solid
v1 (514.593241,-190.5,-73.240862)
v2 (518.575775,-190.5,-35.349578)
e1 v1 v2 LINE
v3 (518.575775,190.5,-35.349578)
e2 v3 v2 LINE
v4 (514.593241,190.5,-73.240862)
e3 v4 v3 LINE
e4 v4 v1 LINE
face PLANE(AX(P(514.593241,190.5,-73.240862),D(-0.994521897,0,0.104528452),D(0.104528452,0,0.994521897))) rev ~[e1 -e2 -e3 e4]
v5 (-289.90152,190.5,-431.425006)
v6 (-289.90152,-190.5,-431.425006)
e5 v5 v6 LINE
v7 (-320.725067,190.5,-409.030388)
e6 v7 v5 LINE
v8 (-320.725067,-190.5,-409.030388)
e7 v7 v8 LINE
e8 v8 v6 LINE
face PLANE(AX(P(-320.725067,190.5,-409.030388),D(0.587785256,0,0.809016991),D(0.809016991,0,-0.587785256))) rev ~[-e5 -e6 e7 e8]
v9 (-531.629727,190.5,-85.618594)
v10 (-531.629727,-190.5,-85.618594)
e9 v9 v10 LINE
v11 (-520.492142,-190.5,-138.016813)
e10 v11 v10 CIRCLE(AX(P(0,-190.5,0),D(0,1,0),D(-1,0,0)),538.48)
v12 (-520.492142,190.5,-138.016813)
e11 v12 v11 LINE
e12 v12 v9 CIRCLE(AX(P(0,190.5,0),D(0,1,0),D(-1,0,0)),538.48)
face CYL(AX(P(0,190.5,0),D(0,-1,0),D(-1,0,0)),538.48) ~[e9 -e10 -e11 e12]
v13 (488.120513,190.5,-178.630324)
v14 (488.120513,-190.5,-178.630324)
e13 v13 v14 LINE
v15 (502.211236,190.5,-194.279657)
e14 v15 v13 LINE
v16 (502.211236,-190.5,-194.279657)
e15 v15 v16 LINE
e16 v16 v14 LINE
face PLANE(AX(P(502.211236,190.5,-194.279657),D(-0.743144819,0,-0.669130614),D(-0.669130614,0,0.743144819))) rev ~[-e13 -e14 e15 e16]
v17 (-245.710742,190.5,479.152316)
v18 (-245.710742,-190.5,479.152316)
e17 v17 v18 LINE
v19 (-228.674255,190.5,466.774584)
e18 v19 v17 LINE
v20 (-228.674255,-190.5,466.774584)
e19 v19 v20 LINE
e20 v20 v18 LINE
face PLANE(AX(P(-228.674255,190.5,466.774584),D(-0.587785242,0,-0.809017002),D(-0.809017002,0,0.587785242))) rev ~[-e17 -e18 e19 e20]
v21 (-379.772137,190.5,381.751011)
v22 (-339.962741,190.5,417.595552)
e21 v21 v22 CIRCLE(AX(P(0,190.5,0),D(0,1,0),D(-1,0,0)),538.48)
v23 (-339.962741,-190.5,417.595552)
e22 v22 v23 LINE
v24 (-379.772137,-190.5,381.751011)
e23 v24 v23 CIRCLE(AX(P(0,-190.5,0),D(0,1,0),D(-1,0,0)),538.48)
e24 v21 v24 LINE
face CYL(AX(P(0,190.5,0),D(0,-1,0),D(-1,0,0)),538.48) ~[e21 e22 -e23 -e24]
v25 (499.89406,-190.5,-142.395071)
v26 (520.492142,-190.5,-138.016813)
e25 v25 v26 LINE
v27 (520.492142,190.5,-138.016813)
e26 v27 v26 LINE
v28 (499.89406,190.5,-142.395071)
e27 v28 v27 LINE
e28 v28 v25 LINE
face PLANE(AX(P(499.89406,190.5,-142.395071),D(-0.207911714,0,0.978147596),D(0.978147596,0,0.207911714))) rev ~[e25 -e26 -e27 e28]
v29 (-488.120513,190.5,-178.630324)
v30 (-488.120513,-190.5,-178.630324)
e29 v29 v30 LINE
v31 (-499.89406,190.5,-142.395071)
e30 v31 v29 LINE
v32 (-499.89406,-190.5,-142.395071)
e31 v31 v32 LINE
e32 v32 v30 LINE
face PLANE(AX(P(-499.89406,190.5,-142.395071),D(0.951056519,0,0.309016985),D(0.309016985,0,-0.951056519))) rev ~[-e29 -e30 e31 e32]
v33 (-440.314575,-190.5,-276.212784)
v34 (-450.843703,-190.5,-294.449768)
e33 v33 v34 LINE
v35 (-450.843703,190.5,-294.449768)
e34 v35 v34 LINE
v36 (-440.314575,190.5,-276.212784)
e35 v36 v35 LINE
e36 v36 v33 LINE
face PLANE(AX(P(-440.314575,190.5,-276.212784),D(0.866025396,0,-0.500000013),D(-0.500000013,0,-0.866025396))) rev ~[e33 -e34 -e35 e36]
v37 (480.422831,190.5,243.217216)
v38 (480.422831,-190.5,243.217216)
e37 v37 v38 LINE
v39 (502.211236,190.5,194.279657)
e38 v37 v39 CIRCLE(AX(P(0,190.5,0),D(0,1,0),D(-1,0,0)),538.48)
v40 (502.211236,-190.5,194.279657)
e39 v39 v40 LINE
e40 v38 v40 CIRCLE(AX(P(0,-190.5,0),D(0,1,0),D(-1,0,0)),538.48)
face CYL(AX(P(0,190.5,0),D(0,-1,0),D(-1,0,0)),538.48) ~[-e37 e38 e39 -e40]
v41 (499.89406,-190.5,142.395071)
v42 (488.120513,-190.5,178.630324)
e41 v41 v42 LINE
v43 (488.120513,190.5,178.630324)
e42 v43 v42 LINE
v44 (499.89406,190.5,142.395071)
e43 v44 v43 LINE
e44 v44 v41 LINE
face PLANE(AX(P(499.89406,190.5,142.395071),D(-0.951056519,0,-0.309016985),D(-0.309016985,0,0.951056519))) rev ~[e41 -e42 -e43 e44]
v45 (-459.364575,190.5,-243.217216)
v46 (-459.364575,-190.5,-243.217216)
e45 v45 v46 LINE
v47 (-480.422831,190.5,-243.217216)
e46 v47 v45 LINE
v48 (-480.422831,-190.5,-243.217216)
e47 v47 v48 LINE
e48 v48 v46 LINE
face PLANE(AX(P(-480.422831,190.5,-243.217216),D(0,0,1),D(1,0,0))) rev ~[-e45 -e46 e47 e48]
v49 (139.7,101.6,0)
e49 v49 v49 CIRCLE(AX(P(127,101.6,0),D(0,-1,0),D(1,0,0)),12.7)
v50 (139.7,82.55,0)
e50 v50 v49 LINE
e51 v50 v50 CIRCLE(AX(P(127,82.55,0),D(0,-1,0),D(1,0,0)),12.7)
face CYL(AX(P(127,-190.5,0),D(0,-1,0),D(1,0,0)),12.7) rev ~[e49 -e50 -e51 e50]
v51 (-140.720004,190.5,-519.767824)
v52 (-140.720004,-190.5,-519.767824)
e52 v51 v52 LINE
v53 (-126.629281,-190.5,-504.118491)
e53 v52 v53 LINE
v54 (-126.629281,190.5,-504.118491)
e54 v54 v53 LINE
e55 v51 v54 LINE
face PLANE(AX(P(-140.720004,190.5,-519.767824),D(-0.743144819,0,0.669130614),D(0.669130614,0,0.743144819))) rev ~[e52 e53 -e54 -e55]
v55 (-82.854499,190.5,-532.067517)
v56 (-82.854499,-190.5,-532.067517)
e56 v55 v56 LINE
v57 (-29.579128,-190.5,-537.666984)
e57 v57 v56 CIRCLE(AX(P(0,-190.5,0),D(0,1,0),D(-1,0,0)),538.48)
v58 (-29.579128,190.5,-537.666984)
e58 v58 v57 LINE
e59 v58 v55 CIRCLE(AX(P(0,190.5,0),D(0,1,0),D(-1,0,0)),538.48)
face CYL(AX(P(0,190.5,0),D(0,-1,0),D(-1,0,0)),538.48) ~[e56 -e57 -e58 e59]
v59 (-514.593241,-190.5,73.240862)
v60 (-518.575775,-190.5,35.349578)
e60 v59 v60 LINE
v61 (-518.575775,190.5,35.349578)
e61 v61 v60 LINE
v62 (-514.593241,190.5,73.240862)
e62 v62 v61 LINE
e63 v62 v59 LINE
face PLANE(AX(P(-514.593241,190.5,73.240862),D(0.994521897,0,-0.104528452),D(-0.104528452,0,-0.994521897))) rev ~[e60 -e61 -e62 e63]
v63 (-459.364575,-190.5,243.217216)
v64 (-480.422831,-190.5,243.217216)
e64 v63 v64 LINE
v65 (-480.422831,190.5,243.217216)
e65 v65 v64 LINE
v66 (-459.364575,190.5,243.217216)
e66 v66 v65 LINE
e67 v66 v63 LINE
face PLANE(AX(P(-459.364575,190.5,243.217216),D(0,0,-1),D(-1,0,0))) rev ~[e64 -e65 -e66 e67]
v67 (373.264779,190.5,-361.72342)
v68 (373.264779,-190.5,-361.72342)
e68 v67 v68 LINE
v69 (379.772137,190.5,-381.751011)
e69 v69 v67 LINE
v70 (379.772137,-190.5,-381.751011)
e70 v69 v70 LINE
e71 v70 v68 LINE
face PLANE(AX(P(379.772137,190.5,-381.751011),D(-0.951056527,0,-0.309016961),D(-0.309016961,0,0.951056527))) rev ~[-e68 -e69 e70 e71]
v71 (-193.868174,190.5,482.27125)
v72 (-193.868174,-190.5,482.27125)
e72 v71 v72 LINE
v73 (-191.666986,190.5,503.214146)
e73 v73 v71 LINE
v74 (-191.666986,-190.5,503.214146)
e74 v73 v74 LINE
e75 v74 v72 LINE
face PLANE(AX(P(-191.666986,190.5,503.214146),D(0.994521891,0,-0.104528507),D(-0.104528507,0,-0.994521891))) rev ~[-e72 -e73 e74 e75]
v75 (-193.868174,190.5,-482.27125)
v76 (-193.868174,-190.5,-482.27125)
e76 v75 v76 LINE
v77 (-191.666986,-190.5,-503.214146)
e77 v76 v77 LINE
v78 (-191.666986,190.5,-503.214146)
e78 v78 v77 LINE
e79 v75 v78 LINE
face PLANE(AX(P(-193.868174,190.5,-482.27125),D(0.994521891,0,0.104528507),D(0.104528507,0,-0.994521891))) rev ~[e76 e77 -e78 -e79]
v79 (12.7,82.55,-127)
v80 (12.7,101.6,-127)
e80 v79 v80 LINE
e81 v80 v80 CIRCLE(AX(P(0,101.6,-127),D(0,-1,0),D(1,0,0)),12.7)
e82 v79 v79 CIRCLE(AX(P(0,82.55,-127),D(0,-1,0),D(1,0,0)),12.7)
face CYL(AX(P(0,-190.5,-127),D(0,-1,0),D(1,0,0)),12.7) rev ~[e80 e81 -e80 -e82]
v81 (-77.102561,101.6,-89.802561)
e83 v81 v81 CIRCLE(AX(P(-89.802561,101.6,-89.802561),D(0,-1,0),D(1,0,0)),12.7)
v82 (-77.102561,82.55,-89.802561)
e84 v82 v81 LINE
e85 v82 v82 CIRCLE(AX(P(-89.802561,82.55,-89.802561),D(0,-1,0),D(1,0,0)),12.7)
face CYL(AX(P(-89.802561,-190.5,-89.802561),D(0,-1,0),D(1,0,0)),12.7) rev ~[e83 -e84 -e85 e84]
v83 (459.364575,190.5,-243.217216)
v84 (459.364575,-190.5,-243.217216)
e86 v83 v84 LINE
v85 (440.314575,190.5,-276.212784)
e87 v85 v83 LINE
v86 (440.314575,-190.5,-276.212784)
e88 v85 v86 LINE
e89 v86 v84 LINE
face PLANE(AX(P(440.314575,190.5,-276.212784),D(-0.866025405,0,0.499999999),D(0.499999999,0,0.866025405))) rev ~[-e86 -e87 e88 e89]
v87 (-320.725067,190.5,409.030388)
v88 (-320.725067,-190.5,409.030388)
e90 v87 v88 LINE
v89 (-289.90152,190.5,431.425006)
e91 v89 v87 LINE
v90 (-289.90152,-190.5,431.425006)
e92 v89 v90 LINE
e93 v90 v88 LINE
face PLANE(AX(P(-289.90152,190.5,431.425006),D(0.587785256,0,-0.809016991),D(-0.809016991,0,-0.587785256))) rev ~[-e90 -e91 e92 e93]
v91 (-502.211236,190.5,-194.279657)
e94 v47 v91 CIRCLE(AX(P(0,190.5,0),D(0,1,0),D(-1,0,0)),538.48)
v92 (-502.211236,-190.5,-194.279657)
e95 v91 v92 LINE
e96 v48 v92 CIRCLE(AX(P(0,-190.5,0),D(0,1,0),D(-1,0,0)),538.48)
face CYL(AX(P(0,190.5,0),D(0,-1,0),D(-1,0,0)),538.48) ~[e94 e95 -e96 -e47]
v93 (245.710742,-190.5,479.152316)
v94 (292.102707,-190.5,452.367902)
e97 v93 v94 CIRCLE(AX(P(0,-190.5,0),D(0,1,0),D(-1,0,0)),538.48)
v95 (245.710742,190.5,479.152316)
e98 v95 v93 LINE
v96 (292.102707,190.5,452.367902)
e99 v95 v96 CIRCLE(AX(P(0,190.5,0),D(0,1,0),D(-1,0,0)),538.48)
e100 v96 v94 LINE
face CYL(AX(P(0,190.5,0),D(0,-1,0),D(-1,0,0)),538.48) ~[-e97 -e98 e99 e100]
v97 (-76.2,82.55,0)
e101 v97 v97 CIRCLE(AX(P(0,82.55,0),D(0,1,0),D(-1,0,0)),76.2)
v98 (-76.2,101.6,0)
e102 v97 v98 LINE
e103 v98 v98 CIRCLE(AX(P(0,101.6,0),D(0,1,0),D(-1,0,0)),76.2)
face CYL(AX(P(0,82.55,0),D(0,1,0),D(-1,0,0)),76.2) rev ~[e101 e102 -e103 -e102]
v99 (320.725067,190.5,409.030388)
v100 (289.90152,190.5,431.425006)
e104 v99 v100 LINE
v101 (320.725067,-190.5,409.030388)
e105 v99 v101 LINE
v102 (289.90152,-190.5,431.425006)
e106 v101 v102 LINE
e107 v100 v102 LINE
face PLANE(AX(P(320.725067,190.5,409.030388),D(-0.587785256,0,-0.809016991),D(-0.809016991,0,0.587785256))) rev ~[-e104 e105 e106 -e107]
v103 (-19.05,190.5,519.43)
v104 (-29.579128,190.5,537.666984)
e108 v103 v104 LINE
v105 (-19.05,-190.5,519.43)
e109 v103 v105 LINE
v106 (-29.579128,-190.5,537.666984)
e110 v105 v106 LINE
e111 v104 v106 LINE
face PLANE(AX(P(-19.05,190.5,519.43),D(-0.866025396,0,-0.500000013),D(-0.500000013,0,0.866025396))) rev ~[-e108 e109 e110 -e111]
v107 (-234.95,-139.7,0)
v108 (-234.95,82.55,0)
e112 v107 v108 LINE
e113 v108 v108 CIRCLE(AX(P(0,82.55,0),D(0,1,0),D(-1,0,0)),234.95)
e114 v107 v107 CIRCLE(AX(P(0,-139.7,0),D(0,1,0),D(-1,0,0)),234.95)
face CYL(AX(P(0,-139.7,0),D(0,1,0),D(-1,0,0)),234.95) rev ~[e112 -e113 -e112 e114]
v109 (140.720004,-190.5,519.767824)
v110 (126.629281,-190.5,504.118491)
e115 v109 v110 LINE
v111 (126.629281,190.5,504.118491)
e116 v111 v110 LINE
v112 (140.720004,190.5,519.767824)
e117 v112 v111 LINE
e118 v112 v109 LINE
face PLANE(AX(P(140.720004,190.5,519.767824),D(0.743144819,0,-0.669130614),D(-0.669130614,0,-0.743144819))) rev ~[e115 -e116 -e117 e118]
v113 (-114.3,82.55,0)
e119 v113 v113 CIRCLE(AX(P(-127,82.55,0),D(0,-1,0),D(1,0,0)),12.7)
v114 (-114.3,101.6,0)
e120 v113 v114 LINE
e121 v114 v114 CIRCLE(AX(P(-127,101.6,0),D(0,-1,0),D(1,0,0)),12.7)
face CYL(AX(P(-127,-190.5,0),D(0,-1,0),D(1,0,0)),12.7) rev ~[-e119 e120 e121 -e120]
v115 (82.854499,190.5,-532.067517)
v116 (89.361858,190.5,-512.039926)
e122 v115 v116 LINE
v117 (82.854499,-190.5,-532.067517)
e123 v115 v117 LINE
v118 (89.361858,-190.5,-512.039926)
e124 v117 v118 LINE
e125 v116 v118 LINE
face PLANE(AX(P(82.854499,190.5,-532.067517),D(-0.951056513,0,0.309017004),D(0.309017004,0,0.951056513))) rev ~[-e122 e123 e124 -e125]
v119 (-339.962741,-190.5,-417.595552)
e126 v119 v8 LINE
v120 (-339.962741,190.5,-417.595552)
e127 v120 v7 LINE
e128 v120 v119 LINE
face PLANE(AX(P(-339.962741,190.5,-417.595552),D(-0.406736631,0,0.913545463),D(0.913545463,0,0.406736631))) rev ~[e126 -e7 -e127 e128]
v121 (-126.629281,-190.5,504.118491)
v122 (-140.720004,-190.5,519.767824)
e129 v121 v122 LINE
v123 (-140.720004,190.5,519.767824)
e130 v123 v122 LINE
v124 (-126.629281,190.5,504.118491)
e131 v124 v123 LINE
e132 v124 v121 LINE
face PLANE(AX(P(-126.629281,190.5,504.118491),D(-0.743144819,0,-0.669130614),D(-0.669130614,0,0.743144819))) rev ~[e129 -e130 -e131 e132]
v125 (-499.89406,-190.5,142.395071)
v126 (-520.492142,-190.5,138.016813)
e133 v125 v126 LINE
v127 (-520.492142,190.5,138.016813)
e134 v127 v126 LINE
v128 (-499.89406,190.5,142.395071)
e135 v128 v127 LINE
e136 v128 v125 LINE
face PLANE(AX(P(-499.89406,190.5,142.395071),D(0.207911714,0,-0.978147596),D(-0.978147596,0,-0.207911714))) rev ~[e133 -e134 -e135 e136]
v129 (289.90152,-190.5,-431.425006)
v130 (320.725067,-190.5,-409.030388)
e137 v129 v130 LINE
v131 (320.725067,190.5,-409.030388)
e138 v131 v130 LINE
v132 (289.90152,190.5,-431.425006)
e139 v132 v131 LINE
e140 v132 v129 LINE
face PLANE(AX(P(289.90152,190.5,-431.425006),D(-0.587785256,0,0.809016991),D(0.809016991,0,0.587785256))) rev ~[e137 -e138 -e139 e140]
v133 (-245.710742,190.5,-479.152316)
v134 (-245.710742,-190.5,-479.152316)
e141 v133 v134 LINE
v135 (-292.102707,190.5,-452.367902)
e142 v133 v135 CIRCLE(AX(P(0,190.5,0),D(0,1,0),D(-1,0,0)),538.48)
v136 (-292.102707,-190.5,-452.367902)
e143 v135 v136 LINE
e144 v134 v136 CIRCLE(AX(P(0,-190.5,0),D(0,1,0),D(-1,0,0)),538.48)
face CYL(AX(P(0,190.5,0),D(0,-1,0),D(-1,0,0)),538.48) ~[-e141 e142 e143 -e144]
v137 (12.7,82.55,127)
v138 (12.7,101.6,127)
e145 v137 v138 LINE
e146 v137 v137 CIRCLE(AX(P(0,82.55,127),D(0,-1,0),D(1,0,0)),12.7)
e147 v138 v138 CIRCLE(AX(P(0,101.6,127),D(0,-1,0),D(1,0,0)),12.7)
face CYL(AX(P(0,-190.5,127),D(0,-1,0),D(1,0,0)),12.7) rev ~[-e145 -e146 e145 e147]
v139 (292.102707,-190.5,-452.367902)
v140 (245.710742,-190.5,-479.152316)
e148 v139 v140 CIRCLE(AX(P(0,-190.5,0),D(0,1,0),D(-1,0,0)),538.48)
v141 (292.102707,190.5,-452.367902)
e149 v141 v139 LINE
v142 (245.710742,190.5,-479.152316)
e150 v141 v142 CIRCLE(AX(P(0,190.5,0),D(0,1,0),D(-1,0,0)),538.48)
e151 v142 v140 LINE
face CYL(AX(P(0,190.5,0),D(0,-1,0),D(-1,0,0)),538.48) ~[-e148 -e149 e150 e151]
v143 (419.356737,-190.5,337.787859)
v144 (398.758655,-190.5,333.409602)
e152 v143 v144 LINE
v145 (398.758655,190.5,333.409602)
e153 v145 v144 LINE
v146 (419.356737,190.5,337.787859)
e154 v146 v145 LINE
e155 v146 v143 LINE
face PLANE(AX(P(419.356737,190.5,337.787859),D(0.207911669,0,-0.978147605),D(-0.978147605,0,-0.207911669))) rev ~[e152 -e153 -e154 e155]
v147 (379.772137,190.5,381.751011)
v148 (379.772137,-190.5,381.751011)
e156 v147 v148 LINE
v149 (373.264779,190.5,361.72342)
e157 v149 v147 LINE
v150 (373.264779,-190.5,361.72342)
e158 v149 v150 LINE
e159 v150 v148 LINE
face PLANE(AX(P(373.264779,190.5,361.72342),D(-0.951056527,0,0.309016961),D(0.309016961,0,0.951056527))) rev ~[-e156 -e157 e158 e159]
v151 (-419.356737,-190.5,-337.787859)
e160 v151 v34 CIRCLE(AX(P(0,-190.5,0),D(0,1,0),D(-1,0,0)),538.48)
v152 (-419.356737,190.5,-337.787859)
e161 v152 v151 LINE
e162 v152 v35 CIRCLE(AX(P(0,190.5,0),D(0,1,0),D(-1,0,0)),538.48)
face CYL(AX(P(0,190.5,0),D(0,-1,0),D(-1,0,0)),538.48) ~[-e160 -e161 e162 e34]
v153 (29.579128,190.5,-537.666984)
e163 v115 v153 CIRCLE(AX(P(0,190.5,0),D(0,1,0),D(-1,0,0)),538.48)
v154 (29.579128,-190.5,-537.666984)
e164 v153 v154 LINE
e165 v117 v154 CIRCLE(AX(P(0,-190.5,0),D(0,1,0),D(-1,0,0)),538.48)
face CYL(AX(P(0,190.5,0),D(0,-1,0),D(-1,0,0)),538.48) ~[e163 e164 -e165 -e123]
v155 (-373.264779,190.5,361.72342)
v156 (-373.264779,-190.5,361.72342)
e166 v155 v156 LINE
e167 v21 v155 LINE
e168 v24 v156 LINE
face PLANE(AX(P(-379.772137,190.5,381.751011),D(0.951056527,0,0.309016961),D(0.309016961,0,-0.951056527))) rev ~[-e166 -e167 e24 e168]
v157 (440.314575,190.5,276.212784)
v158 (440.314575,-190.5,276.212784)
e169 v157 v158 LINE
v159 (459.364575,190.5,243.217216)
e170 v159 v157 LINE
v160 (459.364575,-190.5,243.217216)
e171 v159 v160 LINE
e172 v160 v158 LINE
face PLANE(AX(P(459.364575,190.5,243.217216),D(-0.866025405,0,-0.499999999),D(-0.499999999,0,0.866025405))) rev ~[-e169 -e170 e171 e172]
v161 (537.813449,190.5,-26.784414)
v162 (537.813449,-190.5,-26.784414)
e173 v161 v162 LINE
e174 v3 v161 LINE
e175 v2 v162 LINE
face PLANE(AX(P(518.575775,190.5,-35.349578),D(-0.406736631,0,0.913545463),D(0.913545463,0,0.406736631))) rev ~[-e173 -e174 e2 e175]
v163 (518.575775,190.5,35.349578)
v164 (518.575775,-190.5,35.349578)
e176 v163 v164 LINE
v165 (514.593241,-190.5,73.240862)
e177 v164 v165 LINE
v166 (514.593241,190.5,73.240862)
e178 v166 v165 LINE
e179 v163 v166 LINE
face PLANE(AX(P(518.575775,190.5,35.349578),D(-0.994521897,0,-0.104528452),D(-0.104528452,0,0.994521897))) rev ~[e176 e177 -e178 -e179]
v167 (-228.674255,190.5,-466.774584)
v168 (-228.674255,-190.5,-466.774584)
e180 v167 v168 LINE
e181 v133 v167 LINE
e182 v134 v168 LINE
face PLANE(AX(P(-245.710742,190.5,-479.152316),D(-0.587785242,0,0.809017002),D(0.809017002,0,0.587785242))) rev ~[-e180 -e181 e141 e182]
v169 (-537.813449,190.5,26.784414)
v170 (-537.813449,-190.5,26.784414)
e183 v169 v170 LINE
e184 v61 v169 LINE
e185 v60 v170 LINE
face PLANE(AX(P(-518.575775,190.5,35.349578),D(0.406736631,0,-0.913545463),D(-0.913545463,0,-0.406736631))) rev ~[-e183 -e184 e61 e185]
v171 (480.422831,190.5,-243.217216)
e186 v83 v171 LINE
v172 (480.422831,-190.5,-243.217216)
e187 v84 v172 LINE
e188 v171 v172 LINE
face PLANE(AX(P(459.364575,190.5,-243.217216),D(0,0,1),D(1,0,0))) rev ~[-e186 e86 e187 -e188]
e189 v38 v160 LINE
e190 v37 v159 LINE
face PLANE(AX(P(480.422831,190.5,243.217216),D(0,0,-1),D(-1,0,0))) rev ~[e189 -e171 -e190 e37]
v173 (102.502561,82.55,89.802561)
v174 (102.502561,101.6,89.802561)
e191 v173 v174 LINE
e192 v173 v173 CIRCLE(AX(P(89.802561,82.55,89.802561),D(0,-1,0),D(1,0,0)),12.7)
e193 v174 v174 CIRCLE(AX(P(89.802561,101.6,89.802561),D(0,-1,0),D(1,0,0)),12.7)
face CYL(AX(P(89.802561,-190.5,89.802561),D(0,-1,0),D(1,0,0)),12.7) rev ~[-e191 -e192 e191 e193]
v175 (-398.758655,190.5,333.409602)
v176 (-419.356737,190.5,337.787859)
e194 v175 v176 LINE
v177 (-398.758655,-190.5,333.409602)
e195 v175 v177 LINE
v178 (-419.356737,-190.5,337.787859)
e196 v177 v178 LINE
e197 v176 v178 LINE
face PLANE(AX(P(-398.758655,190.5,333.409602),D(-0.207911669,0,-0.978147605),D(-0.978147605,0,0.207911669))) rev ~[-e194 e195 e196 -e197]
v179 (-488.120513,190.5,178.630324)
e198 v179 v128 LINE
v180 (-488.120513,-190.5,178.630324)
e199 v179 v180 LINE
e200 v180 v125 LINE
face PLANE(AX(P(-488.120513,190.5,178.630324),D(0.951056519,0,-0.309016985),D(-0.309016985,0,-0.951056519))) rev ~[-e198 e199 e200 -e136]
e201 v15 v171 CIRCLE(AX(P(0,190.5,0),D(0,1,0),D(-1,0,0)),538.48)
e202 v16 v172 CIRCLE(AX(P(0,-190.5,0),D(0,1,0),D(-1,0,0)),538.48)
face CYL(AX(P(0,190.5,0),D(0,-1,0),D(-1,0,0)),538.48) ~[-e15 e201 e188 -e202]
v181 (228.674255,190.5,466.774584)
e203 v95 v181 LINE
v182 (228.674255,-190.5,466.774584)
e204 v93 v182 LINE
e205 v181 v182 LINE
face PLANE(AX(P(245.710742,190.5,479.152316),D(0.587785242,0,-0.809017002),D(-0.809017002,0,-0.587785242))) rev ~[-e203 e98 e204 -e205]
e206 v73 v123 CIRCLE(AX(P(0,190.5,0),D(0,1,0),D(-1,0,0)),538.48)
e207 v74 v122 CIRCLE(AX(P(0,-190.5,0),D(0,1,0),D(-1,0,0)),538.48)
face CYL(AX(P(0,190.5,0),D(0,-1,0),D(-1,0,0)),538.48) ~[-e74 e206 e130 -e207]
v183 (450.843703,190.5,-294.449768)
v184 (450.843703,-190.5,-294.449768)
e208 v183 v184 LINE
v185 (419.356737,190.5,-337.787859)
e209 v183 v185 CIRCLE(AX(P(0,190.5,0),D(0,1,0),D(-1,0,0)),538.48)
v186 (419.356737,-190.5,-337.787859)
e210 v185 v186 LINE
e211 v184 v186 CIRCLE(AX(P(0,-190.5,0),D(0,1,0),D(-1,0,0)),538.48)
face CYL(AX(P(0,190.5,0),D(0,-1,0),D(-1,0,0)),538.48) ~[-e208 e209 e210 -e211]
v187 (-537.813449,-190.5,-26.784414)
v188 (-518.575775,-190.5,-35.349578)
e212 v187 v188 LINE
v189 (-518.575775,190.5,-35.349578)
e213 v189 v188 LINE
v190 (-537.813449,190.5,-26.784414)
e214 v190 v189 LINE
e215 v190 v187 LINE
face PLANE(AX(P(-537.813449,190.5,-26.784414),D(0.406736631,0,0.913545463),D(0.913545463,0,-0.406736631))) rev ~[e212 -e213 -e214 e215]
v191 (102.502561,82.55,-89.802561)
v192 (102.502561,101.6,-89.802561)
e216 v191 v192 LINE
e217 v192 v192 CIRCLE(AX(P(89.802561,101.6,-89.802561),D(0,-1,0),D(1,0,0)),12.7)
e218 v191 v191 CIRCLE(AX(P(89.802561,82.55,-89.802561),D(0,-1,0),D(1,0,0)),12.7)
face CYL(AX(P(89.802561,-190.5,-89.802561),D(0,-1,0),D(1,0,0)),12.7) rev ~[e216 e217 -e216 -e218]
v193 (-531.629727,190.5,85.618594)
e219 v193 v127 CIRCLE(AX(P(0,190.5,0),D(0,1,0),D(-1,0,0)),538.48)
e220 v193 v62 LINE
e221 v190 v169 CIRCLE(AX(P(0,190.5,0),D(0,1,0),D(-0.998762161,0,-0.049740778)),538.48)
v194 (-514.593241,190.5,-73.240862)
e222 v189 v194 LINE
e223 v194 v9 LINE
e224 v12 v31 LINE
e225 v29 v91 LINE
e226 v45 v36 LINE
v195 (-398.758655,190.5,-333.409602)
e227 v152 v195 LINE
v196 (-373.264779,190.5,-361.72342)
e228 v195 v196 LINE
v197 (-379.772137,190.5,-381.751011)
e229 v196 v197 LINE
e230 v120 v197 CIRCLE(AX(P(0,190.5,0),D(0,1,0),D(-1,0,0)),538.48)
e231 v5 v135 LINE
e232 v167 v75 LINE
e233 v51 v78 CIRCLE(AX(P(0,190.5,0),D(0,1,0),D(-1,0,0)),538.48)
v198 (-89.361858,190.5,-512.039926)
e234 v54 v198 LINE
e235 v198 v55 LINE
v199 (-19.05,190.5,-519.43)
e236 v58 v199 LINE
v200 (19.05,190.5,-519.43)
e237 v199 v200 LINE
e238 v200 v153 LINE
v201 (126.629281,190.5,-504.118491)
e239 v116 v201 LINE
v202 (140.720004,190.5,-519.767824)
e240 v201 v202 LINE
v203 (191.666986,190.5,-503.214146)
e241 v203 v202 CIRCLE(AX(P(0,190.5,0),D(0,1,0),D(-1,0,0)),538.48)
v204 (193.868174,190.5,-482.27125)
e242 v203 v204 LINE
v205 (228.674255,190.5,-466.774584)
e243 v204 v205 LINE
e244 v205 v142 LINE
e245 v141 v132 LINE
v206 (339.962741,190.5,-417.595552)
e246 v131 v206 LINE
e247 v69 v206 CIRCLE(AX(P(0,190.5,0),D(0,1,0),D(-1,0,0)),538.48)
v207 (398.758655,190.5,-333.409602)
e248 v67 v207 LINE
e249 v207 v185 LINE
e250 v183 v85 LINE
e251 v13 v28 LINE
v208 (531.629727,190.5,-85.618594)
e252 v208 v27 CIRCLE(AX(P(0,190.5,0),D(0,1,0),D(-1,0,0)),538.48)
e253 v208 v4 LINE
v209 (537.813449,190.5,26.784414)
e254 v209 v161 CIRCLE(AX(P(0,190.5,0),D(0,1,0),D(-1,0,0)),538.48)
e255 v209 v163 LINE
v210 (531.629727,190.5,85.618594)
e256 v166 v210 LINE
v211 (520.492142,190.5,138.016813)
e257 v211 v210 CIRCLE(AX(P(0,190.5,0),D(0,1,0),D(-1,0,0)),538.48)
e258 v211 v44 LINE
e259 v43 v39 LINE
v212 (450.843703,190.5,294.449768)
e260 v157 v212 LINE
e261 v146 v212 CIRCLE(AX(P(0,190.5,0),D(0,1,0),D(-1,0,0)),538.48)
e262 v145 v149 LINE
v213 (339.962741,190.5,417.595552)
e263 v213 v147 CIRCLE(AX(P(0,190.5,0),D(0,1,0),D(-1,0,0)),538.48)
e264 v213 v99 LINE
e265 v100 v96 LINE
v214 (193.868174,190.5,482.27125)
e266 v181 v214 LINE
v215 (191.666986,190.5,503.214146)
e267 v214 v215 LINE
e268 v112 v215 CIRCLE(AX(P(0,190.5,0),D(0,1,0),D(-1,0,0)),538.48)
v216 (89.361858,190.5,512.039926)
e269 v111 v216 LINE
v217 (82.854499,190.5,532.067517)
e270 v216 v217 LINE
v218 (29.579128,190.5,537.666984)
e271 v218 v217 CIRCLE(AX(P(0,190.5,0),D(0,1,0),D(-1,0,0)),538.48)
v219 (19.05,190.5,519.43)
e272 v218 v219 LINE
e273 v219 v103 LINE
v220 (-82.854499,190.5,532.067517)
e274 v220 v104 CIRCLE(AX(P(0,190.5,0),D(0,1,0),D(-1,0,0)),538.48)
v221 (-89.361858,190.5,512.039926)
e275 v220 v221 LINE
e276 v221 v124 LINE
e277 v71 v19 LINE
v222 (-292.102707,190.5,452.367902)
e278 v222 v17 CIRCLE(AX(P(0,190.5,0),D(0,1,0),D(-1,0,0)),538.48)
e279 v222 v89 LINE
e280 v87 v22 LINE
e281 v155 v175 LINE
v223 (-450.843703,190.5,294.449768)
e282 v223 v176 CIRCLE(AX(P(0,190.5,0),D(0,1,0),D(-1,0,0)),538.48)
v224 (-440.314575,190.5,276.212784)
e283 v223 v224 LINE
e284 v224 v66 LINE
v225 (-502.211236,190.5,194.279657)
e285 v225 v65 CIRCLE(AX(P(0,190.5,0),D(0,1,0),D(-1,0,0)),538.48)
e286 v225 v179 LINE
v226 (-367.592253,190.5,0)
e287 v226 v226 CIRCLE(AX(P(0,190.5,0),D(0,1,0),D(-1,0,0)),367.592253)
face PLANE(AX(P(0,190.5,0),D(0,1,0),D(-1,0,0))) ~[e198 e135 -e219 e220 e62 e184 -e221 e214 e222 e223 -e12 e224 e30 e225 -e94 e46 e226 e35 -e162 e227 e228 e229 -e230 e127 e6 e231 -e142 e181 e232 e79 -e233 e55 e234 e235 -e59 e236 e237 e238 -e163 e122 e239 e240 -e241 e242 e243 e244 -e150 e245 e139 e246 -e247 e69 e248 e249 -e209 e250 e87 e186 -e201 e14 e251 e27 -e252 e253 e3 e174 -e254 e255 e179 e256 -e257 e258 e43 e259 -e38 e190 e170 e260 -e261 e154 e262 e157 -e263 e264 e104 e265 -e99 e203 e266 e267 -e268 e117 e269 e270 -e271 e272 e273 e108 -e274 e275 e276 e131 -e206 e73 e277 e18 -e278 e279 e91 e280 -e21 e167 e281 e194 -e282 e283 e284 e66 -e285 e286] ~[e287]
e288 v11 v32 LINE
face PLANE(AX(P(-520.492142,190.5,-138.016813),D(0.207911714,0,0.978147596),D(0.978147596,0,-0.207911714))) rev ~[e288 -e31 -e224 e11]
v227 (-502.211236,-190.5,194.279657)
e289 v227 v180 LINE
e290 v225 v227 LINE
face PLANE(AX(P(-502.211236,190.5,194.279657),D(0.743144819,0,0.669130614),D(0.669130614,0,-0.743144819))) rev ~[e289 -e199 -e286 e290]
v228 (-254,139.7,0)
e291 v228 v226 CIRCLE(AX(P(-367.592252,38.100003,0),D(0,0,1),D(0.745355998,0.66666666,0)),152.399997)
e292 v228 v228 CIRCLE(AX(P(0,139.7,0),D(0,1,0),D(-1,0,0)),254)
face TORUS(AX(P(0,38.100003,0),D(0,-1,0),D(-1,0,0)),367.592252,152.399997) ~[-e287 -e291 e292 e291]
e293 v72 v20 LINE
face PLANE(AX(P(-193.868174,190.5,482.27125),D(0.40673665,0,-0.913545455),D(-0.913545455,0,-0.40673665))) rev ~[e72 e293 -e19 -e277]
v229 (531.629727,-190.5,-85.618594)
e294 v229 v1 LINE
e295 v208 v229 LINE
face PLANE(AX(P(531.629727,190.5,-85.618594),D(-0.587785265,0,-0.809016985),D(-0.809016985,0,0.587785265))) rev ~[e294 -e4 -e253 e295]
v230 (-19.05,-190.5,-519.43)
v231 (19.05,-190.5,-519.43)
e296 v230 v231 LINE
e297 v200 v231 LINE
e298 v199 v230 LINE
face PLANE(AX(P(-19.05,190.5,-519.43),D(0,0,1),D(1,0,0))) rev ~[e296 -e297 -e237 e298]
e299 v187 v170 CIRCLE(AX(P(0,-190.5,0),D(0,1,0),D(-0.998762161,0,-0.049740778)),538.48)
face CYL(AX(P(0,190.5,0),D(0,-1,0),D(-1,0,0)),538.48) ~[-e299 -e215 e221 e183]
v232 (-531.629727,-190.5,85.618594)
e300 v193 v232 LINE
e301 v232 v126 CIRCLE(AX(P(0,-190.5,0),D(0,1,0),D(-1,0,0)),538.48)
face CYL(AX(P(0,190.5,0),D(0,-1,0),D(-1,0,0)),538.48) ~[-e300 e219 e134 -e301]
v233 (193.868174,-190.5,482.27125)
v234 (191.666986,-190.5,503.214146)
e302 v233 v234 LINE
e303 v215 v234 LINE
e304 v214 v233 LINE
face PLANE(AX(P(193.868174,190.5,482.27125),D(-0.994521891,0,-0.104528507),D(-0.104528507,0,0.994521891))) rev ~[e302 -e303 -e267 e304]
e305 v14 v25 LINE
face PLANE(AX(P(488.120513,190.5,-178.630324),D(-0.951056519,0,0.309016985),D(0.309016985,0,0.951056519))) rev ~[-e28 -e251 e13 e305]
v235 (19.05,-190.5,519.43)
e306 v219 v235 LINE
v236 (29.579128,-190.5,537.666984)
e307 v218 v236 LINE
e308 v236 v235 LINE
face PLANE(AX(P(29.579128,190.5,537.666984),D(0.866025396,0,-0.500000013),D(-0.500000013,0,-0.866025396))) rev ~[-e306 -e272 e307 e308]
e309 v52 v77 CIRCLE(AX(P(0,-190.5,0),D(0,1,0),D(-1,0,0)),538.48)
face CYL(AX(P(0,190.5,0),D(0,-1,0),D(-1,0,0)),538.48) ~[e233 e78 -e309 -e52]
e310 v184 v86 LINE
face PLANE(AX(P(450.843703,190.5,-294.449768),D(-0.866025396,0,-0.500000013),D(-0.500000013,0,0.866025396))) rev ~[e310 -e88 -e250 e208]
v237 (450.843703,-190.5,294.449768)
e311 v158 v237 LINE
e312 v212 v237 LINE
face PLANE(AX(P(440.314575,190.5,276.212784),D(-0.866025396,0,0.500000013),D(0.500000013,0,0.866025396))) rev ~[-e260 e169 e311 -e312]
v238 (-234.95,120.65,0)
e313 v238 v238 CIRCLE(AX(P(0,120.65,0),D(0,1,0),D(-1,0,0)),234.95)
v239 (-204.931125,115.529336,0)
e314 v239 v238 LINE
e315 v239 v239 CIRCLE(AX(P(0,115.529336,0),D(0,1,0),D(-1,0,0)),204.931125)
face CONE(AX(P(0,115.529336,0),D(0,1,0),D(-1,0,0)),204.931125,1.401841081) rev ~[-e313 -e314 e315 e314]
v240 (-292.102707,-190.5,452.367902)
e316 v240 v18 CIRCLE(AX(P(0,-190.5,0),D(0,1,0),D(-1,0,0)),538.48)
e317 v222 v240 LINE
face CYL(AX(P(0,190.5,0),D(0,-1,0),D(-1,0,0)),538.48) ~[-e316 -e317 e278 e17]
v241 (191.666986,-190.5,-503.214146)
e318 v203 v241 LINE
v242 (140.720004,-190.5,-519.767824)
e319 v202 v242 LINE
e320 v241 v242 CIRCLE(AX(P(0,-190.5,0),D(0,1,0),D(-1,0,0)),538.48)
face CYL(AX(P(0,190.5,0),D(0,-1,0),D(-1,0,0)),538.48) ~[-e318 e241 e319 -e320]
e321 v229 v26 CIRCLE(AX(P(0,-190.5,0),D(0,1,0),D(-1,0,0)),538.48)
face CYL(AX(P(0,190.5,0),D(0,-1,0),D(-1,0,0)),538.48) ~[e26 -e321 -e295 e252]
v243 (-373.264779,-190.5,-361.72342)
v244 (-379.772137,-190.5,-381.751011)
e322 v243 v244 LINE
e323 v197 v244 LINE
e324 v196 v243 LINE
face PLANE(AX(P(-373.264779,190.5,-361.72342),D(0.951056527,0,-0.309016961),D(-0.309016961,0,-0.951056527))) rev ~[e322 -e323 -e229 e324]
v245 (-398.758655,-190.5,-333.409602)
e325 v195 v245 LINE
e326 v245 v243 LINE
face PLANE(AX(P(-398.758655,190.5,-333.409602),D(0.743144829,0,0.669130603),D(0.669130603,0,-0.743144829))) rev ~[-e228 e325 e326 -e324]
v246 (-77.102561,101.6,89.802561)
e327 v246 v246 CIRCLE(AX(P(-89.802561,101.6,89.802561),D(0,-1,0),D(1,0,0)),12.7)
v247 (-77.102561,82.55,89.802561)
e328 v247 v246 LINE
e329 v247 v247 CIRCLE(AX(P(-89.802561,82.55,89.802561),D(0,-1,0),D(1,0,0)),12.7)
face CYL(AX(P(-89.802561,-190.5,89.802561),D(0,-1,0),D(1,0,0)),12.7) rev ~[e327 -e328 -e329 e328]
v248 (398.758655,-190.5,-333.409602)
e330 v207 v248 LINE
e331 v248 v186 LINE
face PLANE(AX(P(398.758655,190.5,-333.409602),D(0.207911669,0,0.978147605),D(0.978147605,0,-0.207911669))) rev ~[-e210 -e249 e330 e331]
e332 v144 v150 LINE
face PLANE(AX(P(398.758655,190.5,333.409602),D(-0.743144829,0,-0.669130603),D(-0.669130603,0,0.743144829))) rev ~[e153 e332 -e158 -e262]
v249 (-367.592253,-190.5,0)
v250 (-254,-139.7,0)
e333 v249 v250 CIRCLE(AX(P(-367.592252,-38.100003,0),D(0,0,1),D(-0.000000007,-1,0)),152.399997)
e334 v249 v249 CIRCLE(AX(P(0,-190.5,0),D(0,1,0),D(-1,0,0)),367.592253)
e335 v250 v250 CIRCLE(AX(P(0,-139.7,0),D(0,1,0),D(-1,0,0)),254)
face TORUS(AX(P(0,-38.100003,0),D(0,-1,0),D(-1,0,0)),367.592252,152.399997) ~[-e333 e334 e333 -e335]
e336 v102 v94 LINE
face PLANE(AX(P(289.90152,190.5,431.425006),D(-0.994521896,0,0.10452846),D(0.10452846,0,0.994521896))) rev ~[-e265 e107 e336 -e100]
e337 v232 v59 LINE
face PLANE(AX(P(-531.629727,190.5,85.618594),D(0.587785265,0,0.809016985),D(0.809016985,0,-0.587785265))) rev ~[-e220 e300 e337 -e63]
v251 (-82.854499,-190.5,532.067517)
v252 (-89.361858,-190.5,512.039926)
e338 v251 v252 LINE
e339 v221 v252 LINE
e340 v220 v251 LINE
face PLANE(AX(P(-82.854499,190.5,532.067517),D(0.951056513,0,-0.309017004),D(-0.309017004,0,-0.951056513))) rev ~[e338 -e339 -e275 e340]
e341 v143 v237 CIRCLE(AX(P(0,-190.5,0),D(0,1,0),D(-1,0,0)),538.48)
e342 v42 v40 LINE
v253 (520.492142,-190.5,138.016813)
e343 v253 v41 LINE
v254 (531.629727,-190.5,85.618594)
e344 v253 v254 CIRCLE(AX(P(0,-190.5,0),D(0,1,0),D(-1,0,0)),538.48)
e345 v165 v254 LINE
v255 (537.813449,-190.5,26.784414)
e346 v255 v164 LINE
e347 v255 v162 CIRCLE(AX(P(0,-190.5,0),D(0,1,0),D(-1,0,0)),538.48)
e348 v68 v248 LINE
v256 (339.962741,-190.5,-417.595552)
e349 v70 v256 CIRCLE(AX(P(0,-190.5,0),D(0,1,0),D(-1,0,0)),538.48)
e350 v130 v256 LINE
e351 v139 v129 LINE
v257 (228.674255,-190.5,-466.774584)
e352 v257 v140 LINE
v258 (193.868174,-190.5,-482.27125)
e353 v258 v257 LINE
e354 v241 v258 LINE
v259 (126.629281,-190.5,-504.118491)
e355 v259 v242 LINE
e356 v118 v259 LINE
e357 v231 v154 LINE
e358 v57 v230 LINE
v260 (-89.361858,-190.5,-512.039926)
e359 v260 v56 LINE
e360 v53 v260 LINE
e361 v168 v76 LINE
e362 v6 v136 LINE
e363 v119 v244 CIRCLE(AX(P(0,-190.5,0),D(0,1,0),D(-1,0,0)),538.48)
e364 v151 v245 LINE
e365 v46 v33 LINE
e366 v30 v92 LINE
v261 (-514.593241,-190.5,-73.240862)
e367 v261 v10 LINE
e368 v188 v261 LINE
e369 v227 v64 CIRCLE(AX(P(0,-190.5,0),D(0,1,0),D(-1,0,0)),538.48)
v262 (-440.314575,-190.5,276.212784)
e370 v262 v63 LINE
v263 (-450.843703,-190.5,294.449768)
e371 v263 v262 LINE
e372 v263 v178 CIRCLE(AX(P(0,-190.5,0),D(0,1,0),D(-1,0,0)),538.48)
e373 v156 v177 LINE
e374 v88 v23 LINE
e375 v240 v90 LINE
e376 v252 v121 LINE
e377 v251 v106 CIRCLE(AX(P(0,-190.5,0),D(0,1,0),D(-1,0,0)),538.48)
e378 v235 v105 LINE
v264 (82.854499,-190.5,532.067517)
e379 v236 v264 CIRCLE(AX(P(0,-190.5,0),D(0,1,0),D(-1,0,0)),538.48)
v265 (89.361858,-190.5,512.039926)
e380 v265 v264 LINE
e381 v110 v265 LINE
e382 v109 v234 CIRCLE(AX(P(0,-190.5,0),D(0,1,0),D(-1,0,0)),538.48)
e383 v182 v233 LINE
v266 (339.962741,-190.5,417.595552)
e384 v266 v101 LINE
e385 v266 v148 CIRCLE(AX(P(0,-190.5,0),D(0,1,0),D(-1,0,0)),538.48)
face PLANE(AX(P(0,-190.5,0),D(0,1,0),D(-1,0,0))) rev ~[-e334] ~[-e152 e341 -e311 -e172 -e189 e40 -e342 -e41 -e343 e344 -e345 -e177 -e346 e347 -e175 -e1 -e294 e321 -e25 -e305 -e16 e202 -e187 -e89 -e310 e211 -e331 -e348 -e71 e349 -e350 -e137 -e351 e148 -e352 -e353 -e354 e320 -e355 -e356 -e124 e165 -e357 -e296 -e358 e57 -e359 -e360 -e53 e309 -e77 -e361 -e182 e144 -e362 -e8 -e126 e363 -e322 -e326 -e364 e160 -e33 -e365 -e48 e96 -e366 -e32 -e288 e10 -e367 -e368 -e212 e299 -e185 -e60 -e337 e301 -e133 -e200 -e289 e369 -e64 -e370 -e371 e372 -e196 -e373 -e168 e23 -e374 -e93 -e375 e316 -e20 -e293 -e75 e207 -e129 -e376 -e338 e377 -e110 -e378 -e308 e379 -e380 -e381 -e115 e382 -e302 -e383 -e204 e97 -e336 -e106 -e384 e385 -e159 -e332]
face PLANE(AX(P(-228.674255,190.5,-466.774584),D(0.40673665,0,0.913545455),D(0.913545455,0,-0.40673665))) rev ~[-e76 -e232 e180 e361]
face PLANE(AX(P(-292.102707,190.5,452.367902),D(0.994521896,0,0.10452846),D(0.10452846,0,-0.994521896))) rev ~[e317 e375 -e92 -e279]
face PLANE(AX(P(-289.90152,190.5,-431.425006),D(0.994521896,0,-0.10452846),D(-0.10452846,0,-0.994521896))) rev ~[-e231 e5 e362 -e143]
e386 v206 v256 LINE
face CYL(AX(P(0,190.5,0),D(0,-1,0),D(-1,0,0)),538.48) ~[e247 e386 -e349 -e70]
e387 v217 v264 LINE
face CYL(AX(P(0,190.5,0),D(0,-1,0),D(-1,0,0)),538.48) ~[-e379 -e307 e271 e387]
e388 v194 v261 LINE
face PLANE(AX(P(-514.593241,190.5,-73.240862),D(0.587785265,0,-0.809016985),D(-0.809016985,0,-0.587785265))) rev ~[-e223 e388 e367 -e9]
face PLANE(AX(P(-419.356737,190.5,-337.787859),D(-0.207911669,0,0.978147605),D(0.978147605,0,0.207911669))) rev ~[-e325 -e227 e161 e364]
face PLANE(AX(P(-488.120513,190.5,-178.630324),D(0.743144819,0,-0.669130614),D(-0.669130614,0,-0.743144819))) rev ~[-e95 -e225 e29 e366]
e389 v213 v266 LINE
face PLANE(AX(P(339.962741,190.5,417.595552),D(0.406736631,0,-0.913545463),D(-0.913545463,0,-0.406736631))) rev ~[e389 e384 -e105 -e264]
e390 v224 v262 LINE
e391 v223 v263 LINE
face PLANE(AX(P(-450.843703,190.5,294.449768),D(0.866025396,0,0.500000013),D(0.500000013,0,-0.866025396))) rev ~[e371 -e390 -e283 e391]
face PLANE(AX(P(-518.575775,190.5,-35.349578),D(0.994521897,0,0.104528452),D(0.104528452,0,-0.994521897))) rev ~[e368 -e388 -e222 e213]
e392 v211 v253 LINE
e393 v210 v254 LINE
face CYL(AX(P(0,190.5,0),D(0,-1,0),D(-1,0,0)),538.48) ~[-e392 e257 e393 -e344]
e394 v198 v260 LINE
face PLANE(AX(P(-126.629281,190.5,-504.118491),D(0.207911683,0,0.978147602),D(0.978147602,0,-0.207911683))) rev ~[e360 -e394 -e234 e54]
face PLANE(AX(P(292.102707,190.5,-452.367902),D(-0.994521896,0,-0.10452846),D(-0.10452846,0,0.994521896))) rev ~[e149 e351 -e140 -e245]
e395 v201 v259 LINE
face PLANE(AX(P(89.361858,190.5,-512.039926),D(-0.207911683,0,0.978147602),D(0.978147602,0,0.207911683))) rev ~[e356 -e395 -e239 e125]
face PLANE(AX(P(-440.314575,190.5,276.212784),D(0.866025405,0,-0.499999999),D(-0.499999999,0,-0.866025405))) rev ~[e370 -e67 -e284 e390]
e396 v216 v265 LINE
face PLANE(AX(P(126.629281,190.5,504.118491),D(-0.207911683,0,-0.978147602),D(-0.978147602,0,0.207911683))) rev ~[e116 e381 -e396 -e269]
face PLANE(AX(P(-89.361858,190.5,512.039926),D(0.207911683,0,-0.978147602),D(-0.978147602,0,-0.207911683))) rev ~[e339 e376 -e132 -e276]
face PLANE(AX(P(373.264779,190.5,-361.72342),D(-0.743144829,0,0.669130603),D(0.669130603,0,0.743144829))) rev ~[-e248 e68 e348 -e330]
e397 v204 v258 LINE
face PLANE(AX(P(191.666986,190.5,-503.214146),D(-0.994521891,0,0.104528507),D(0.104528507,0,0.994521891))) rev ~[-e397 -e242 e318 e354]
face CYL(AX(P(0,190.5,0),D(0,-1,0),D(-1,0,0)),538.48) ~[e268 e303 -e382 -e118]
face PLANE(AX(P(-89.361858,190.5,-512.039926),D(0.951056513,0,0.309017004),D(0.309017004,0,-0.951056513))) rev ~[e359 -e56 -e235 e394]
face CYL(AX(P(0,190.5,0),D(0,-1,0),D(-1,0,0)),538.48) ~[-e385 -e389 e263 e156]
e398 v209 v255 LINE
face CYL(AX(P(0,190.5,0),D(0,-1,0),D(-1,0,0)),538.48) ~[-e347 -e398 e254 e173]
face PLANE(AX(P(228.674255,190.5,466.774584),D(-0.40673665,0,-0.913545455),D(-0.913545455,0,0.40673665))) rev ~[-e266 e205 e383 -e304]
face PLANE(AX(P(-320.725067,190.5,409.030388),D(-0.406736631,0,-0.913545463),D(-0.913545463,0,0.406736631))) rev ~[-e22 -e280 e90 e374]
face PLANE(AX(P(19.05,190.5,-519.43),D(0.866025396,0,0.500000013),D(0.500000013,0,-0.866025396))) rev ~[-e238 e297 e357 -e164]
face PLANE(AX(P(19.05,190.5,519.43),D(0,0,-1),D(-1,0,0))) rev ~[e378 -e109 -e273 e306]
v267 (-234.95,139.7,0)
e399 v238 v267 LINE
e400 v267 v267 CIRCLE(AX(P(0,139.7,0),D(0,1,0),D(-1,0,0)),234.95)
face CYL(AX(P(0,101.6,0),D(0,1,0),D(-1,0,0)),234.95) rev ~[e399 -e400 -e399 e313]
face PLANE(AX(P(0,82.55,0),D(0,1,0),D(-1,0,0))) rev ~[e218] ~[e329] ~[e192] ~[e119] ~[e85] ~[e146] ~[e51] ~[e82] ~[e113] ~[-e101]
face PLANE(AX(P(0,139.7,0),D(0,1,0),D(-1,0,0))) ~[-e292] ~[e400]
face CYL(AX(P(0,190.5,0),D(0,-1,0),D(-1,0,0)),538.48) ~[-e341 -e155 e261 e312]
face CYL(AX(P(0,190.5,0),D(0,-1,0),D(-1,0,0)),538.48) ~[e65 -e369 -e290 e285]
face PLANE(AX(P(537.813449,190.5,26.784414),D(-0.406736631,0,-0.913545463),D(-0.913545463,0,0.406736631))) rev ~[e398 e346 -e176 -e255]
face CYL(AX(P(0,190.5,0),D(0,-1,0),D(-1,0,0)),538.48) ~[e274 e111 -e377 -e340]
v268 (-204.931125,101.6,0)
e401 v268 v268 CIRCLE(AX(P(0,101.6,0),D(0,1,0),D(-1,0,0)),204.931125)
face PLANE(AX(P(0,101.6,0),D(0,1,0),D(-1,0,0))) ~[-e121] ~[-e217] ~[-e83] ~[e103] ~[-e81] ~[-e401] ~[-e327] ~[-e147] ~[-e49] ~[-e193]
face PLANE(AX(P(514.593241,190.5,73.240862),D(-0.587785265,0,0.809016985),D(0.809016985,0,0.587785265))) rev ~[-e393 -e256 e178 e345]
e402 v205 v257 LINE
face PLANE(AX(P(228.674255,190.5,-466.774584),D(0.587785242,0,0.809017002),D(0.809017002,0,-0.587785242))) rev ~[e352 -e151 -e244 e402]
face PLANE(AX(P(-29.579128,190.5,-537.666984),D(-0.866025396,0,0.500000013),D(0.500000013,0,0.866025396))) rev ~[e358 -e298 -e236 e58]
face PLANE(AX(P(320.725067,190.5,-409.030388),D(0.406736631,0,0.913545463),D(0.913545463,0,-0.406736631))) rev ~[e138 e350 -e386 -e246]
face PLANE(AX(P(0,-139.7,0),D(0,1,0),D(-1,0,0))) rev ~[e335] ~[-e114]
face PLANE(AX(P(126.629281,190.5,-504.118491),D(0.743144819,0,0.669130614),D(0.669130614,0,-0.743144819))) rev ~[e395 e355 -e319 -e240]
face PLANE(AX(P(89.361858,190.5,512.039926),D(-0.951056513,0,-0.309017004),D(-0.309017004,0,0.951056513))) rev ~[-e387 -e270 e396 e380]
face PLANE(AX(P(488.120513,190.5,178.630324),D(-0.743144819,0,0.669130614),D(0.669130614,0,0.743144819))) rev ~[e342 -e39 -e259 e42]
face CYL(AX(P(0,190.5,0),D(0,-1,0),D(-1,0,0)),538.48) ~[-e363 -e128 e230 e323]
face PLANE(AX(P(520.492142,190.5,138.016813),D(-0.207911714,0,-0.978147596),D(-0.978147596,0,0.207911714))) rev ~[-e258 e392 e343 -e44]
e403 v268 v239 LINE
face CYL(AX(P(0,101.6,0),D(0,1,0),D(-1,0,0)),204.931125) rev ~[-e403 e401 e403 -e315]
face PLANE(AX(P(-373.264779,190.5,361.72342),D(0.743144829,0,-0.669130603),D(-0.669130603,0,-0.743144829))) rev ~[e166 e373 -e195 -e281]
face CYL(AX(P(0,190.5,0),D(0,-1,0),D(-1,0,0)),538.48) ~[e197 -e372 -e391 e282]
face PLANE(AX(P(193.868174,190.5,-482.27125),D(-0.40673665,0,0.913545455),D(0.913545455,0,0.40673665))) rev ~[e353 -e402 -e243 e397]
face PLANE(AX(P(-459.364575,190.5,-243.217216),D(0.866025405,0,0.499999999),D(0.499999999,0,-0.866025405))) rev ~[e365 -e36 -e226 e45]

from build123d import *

# Parameters (mm, degrees)
F2_R     = 12.7
F3_DEPTH = 381.001
F5_DEPTH = 381.001


with BuildPart() as f1:
    # F0 (on Top) → F1 (revolve)
    with BuildSketch(Plane.XY):
        with BuildLine():
            Line((-367.592253, 190.5), (-538.48, 190.5))
            Line((-538.48, 190.5), (-538.48, -190.5))
            Line((-538.48, -190.5), (-367.592253, -190.5))
            ThreePointArc((-367.592253, -190.5), (-305.375214, -177.22153), (-254, -139.7))
            Line((-254, -139.7), (-254, 139.7))
            ThreePointArc((-254, 139.7), (-305.375214, 177.22153), (-367.592253, 190.5))
        make_face()
        Polygon((-234.95, 139.7), (-254, 139.7), (-254, -139.7), (-234.95, -139.7), (-234.95, 82.55), (-76.2, 82.55), (-76.2, 101.6), (-204.931125, 101.6), (-234.95, 101.6), (-234.95, 120.65), align=None)
        Polygon((-204.931125, 115.529336), (-234.95, 120.65), (-234.95, 101.6), (-204.931125, 101.6), align=None)
    revolve(axis=Axis((0, 171.656604, 0), (0, 1, 0)))

    # F2 (on face) → F3 (cut, through all)
    with BuildSketch(Plane.XZ.offset(190.5)):
        with Locations((0, 127)):
            Circle(F2_R)
        with Locations((-89.802561, 89.802561)):
            Circle(F2_R)
        with Locations((-127, 0)):
            Circle(F2_R)
        with Locations((-89.802561, -89.802561)):
            Circle(F2_R)
        with Locations((0, -127)):
            Circle(F2_R)
        with Locations((89.802561, -89.802561)):
            Circle(F2_R)
        with Locations((127, 0)):
            Circle(F2_R)
        with Locations((89.802561, 89.802561)):
            Circle(F2_R)
    extrude(amount=-F3_DEPTH, mode=Mode.SUBTRACT)

    # F4 (on face) → F5 (cut, through all)
    with BuildSketch(Plane(origin=(0, 190.5, 0), x_dir=(-1, 0, 0), z_dir=(0, 1, 0))):
        with BuildLine():
            ThreePointArc((29.579128, 537.666984), (0, 538.48), (-29.579128, 537.666984))
            Line((-29.579128, 537.666984), (-19.05, 519.43))
            Line((-19.05, 519.43), (19.05, 519.43))
            Line((19.05, 519.43), (29.579128, 537.666984))
        make_face()
        with BuildLine():
            ThreePointArc((-82.854499, 532.067517), (-111.956287, 526.71292), (-140.720004, 519.767824))
            Line((-140.720004, 519.767824), (-126.629281, 504.118491))
            Line((-126.629281, 504.118491), (-89.361858, 512.039926))
            Line((-89.361858, 512.039926), (-82.854499, 532.067517))
        make_face()
        with BuildLine():
            ThreePointArc((-191.666986, 503.214146), (-219.019548, 491.925958), (-245.710742, 479.152316))
            Line((-245.710742, 479.152316), (-228.674255, 466.774584))
            Line((-228.674255, 466.774584), (-193.868174, 482.27125))
            Line((-193.868174, 482.27125), (-191.666986, 503.214146))
        make_face()
        with BuildLine():
            ThreePointArc((-292.102707, 452.367902), (-316.510603, 435.639471), (-339.962741, 417.595552))
            Line((-339.962741, 417.595552), (-320.725067, 409.030388))
            Line((-320.725067, 409.030388), (-289.90152, 431.425006))
            Line((-289.90152, 431.425006), (-292.102707, 452.367902))
        make_face()
        with BuildLine():
            ThreePointArc((-379.772137, 381.751011), (-400.168626, 360.313449), (-419.356737, 337.787859))
            Line((-419.356737, 337.787859), (-398.758655, 333.409602))
            Line((-398.758655, 333.409602), (-373.264779, 361.72342))
            Line((-373.264779, 361.72342), (-379.772137, 381.751011))
        make_face()
        with BuildLine():
            ThreePointArc((-450.843703, 294.449768), (-466.337359, 269.24), (-480.422831, 243.217216))
            Line((-480.422831, 243.217216), (-459.364575, 243.217216))
            Line((-459.364575, 243.217216), (-440.314575, 276.212784))
            Line((-440.314575, 276.212784), (-450.843703, 294.449768))
        make_face()
        with BuildLine():
            ThreePointArc((-502.211236, 194.279657), (-512.124913, 166.399471), (-520.492142, 138.016813))
            Line((-520.492142, 138.016813), (-499.89406, 142.395071))
            Line((-499.89406, 142.395071), (-488.120513, 178.630324))
            Line((-488.120513, 178.630324), (-502.211236, 194.279657))
        make_face()
        with BuildLine():
            ThreePointArc((-531.629727, 85.618594), (-535.53015, 56.286487), (-537.813449, 26.784414))
            Line((-537.813449, 26.784414), (-518.575775, 35.349578))
            Line((-518.575775, 35.349578), (-514.593241, 73.240862))
            Line((-514.593241, 73.240862), (-531.629727, 85.618594))
        make_face()
        with BuildLine():
            ThreePointArc((-537.813449, -26.784414), (-535.53015, -56.286487), (-531.629727, -85.618594))
            Line((-531.629727, -85.618594), (-514.593241, -73.240862))
            Line((-514.593241, -73.240862), (-518.575775, -35.349578))
            Line((-518.575775, -35.349578), (-537.813449, -26.784414))
        make_face()
        with BuildLine():
            ThreePointArc((-520.492142, -138.016813), (-512.124913, -166.399471), (-502.211236, -194.279657))
            Line((-502.211236, -194.279657), (-488.120513, -178.630324))
            Line((-488.120513, -178.630324), (-499.89406, -142.395071))
            Line((-499.89406, -142.395071), (-520.492142, -138.016813))
        make_face()
        with BuildLine():
            ThreePointArc((-480.422831, -243.217216), (-466.337359, -269.24), (-450.843703, -294.449768))
            Line((-450.843703, -294.449768), (-440.314575, -276.212784))
            Line((-440.314575, -276.212784), (-459.364575, -243.217216))
            Line((-459.364575, -243.217216), (-480.422831, -243.217216))
        make_face()
        with BuildLine():
            ThreePointArc((-419.356737, -337.787859), (-400.168626, -360.313449), (-379.772137, -381.751011))
            Line((-379.772137, -381.751011), (-373.264779, -361.72342))
            Line((-373.264779, -361.72342), (-398.758655, -333.409602))
            Line((-398.758655, -333.409602), (-419.356737, -337.787859))
        make_face()
        with BuildLine():
            ThreePointArc((-339.962741, -417.595552), (-316.510603, -435.639471), (-292.102707, -452.367902))
            Line((-292.102707, -452.367902), (-289.90152, -431.425006))
            Line((-289.90152, -431.425006), (-320.725067, -409.030388))
            Line((-320.725067, -409.030388), (-339.962741, -417.595552))
        make_face()
        with BuildLine():
            ThreePointArc((-245.710742, -479.152316), (-219.019548, -491.925958), (-191.666986, -503.214146))
            Line((-191.666986, -503.214146), (-193.868174, -482.27125))
            Line((-193.868174, -482.27125), (-228.674255, -466.774584))
            Line((-228.674255, -466.774584), (-245.710742, -479.152316))
        make_face()
        with BuildLine():
            ThreePointArc((-140.720004, -519.767824), (-111.956287, -526.71292), (-82.854499, -532.067517))
            Line((-82.854499, -532.067517), (-89.361858, -512.039926))
            Line((-89.361858, -512.039926), (-126.629281, -504.118491))
            Line((-126.629281, -504.118491), (-140.720004, -519.767824))
        make_face()
        with BuildLine():
            ThreePointArc((-29.579128, -537.666984), (0, -538.48), (29.579128, -537.666984))
            Line((29.579128, -537.666984), (19.05, -519.43))
            Line((19.05, -519.43), (-19.05, -519.43))
            Line((-19.05, -519.43), (-29.579128, -537.666984))
        make_face()
        with BuildLine():
            ThreePointArc((82.854499, -532.067517), (111.956287, -526.71292), (140.720004, -519.767824))
            Line((140.720004, -519.767824), (126.629281, -504.118491))
            Line((126.629281, -504.118491), (89.361858, -512.039926))
            Line((89.361858, -512.039926), (82.854499, -532.067517))
        make_face()
        with BuildLine():
            ThreePointArc((191.666986, -503.214146), (219.019548, -491.925958), (245.710742, -479.152316))
            Line((245.710742, -479.152316), (228.674255, -466.774584))
            Line((228.674255, -466.774584), (193.868174, -482.27125))
            Line((193.868174, -482.27125), (191.666986, -503.214146))
        make_face()
        with BuildLine():
            ThreePointArc((292.102707, -452.367902), (316.510603, -435.639471), (339.962741, -417.595552))
            Line((339.962741, -417.595552), (320.725067, -409.030388))
            Line((320.725067, -409.030388), (289.90152, -431.425006))
            Line((289.90152, -431.425006), (292.102707, -452.367902))
        make_face()
        with BuildLine():
            ThreePointArc((379.772137, -381.751011), (400.168626, -360.313449), (419.356737, -337.787859))
            Line((419.356737, -337.787859), (398.758655, -333.409602))
            Line((398.758655, -333.409602), (373.264779, -361.72342))
            Line((373.264779, -361.72342), (379.772137, -381.751011))
        make_face()
        with BuildLine():
            ThreePointArc((450.843703, -294.449768), (466.337359, -269.24), (480.422831, -243.217216))
            Line((480.422831, -243.217216), (459.364575, -243.217216))
            Line((459.364575, -243.217216), (440.314575, -276.212784))
            Line((440.314575, -276.212784), (450.843703, -294.449768))
        make_face()
        with BuildLine():
            ThreePointArc((502.211236, -194.279657), (512.124913, -166.399471), (520.492142, -138.016813))
            Line((520.492142, -138.016813), (499.89406, -142.395071))
            Line((499.89406, -142.395071), (488.120513, -178.630324))
            Line((488.120513, -178.630324), (502.211236, -194.279657))
        make_face()
        with BuildLine():
            ThreePointArc((531.629727, -85.618594), (535.53015, -56.286487), (537.813449, -26.784414))
            Line((537.813449, -26.784414), (518.575775, -35.349578))
            Line((518.575775, -35.349578), (514.593241, -73.240862))
            Line((514.593241, -73.240862), (531.629727, -85.618594))
        make_face()
        with BuildLine():
            ThreePointArc((537.813449, 26.784414), (535.53015, 56.286487), (531.629727, 85.618594))
            Line((531.629727, 85.618594), (514.593241, 73.240862))
            Line((514.593241, 73.240862), (518.575775, 35.349578))
            Line((518.575775, 35.349578), (537.813449, 26.784414))
        make_face()
        with BuildLine():
            ThreePointArc((520.492142, 138.016813), (512.124913, 166.399471), (502.211236, 194.279657))
            Line((502.211236, 194.279657), (488.120513, 178.630324))
            Line((488.120513, 178.630324), (499.89406, 142.395071))
            Line((499.89406, 142.395071), (520.492142, 138.016813))
        make_face()
        with BuildLine():
            ThreePointArc((480.422831, 243.217216), (466.337359, 269.24), (450.843703, 294.449768))
            Line((450.843703, 294.449768), (440.314575, 276.212784))
            Line((440.314575, 276.212784), (459.364575, 243.217216))
            Line((459.364575, 243.217216), (480.422831, 243.217216))
        make_face()
        with BuildLine():
            ThreePointArc((419.356737, 337.787859), (400.168626, 360.313449), (379.772137, 381.751011))
            Line((379.772137, 381.751011), (373.264779, 361.72342))
            Line((373.264779, 361.72342), (398.758655, 333.409602))
            Line((398.758655, 333.409602), (419.356737, 337.787859))
        make_face()
        with BuildLine():
            ThreePointArc((339.962741, 417.595552), (316.510603, 435.639471), (292.102707, 452.367902))
            Line((292.102707, 452.367902), (289.90152, 431.425006))
            Line((289.90152, 431.425006), (320.725067, 409.030388))
            Line((320.725067, 409.030388), (339.962741, 417.595552))
        make_face()
        with BuildLine():
            ThreePointArc((245.710742, 479.152316), (219.019548, 491.925958), (191.666986, 503.214146))
            Line((191.666986, 503.214146), (193.868174, 482.27125))
            Line((193.868174, 482.27125), (228.674255, 466.774584))
            Line((228.674255, 466.774584), (245.710742, 479.152316))
        make_face()
        with BuildLine():
            ThreePointArc((140.720004, 519.767824), (111.956287, 526.71292), (82.854499, 532.067517))
            Line((82.854499, 532.067517), (89.361858, 512.039926))
            Line((89.361858, 512.039926), (126.629281, 504.118491))
            Line((126.629281, 504.118491), (140.720004, 519.767824))
        make_face()
    extrude(amount=-F5_DEPTH, mode=Mode.SUBTRACT)


solid = f1.part
